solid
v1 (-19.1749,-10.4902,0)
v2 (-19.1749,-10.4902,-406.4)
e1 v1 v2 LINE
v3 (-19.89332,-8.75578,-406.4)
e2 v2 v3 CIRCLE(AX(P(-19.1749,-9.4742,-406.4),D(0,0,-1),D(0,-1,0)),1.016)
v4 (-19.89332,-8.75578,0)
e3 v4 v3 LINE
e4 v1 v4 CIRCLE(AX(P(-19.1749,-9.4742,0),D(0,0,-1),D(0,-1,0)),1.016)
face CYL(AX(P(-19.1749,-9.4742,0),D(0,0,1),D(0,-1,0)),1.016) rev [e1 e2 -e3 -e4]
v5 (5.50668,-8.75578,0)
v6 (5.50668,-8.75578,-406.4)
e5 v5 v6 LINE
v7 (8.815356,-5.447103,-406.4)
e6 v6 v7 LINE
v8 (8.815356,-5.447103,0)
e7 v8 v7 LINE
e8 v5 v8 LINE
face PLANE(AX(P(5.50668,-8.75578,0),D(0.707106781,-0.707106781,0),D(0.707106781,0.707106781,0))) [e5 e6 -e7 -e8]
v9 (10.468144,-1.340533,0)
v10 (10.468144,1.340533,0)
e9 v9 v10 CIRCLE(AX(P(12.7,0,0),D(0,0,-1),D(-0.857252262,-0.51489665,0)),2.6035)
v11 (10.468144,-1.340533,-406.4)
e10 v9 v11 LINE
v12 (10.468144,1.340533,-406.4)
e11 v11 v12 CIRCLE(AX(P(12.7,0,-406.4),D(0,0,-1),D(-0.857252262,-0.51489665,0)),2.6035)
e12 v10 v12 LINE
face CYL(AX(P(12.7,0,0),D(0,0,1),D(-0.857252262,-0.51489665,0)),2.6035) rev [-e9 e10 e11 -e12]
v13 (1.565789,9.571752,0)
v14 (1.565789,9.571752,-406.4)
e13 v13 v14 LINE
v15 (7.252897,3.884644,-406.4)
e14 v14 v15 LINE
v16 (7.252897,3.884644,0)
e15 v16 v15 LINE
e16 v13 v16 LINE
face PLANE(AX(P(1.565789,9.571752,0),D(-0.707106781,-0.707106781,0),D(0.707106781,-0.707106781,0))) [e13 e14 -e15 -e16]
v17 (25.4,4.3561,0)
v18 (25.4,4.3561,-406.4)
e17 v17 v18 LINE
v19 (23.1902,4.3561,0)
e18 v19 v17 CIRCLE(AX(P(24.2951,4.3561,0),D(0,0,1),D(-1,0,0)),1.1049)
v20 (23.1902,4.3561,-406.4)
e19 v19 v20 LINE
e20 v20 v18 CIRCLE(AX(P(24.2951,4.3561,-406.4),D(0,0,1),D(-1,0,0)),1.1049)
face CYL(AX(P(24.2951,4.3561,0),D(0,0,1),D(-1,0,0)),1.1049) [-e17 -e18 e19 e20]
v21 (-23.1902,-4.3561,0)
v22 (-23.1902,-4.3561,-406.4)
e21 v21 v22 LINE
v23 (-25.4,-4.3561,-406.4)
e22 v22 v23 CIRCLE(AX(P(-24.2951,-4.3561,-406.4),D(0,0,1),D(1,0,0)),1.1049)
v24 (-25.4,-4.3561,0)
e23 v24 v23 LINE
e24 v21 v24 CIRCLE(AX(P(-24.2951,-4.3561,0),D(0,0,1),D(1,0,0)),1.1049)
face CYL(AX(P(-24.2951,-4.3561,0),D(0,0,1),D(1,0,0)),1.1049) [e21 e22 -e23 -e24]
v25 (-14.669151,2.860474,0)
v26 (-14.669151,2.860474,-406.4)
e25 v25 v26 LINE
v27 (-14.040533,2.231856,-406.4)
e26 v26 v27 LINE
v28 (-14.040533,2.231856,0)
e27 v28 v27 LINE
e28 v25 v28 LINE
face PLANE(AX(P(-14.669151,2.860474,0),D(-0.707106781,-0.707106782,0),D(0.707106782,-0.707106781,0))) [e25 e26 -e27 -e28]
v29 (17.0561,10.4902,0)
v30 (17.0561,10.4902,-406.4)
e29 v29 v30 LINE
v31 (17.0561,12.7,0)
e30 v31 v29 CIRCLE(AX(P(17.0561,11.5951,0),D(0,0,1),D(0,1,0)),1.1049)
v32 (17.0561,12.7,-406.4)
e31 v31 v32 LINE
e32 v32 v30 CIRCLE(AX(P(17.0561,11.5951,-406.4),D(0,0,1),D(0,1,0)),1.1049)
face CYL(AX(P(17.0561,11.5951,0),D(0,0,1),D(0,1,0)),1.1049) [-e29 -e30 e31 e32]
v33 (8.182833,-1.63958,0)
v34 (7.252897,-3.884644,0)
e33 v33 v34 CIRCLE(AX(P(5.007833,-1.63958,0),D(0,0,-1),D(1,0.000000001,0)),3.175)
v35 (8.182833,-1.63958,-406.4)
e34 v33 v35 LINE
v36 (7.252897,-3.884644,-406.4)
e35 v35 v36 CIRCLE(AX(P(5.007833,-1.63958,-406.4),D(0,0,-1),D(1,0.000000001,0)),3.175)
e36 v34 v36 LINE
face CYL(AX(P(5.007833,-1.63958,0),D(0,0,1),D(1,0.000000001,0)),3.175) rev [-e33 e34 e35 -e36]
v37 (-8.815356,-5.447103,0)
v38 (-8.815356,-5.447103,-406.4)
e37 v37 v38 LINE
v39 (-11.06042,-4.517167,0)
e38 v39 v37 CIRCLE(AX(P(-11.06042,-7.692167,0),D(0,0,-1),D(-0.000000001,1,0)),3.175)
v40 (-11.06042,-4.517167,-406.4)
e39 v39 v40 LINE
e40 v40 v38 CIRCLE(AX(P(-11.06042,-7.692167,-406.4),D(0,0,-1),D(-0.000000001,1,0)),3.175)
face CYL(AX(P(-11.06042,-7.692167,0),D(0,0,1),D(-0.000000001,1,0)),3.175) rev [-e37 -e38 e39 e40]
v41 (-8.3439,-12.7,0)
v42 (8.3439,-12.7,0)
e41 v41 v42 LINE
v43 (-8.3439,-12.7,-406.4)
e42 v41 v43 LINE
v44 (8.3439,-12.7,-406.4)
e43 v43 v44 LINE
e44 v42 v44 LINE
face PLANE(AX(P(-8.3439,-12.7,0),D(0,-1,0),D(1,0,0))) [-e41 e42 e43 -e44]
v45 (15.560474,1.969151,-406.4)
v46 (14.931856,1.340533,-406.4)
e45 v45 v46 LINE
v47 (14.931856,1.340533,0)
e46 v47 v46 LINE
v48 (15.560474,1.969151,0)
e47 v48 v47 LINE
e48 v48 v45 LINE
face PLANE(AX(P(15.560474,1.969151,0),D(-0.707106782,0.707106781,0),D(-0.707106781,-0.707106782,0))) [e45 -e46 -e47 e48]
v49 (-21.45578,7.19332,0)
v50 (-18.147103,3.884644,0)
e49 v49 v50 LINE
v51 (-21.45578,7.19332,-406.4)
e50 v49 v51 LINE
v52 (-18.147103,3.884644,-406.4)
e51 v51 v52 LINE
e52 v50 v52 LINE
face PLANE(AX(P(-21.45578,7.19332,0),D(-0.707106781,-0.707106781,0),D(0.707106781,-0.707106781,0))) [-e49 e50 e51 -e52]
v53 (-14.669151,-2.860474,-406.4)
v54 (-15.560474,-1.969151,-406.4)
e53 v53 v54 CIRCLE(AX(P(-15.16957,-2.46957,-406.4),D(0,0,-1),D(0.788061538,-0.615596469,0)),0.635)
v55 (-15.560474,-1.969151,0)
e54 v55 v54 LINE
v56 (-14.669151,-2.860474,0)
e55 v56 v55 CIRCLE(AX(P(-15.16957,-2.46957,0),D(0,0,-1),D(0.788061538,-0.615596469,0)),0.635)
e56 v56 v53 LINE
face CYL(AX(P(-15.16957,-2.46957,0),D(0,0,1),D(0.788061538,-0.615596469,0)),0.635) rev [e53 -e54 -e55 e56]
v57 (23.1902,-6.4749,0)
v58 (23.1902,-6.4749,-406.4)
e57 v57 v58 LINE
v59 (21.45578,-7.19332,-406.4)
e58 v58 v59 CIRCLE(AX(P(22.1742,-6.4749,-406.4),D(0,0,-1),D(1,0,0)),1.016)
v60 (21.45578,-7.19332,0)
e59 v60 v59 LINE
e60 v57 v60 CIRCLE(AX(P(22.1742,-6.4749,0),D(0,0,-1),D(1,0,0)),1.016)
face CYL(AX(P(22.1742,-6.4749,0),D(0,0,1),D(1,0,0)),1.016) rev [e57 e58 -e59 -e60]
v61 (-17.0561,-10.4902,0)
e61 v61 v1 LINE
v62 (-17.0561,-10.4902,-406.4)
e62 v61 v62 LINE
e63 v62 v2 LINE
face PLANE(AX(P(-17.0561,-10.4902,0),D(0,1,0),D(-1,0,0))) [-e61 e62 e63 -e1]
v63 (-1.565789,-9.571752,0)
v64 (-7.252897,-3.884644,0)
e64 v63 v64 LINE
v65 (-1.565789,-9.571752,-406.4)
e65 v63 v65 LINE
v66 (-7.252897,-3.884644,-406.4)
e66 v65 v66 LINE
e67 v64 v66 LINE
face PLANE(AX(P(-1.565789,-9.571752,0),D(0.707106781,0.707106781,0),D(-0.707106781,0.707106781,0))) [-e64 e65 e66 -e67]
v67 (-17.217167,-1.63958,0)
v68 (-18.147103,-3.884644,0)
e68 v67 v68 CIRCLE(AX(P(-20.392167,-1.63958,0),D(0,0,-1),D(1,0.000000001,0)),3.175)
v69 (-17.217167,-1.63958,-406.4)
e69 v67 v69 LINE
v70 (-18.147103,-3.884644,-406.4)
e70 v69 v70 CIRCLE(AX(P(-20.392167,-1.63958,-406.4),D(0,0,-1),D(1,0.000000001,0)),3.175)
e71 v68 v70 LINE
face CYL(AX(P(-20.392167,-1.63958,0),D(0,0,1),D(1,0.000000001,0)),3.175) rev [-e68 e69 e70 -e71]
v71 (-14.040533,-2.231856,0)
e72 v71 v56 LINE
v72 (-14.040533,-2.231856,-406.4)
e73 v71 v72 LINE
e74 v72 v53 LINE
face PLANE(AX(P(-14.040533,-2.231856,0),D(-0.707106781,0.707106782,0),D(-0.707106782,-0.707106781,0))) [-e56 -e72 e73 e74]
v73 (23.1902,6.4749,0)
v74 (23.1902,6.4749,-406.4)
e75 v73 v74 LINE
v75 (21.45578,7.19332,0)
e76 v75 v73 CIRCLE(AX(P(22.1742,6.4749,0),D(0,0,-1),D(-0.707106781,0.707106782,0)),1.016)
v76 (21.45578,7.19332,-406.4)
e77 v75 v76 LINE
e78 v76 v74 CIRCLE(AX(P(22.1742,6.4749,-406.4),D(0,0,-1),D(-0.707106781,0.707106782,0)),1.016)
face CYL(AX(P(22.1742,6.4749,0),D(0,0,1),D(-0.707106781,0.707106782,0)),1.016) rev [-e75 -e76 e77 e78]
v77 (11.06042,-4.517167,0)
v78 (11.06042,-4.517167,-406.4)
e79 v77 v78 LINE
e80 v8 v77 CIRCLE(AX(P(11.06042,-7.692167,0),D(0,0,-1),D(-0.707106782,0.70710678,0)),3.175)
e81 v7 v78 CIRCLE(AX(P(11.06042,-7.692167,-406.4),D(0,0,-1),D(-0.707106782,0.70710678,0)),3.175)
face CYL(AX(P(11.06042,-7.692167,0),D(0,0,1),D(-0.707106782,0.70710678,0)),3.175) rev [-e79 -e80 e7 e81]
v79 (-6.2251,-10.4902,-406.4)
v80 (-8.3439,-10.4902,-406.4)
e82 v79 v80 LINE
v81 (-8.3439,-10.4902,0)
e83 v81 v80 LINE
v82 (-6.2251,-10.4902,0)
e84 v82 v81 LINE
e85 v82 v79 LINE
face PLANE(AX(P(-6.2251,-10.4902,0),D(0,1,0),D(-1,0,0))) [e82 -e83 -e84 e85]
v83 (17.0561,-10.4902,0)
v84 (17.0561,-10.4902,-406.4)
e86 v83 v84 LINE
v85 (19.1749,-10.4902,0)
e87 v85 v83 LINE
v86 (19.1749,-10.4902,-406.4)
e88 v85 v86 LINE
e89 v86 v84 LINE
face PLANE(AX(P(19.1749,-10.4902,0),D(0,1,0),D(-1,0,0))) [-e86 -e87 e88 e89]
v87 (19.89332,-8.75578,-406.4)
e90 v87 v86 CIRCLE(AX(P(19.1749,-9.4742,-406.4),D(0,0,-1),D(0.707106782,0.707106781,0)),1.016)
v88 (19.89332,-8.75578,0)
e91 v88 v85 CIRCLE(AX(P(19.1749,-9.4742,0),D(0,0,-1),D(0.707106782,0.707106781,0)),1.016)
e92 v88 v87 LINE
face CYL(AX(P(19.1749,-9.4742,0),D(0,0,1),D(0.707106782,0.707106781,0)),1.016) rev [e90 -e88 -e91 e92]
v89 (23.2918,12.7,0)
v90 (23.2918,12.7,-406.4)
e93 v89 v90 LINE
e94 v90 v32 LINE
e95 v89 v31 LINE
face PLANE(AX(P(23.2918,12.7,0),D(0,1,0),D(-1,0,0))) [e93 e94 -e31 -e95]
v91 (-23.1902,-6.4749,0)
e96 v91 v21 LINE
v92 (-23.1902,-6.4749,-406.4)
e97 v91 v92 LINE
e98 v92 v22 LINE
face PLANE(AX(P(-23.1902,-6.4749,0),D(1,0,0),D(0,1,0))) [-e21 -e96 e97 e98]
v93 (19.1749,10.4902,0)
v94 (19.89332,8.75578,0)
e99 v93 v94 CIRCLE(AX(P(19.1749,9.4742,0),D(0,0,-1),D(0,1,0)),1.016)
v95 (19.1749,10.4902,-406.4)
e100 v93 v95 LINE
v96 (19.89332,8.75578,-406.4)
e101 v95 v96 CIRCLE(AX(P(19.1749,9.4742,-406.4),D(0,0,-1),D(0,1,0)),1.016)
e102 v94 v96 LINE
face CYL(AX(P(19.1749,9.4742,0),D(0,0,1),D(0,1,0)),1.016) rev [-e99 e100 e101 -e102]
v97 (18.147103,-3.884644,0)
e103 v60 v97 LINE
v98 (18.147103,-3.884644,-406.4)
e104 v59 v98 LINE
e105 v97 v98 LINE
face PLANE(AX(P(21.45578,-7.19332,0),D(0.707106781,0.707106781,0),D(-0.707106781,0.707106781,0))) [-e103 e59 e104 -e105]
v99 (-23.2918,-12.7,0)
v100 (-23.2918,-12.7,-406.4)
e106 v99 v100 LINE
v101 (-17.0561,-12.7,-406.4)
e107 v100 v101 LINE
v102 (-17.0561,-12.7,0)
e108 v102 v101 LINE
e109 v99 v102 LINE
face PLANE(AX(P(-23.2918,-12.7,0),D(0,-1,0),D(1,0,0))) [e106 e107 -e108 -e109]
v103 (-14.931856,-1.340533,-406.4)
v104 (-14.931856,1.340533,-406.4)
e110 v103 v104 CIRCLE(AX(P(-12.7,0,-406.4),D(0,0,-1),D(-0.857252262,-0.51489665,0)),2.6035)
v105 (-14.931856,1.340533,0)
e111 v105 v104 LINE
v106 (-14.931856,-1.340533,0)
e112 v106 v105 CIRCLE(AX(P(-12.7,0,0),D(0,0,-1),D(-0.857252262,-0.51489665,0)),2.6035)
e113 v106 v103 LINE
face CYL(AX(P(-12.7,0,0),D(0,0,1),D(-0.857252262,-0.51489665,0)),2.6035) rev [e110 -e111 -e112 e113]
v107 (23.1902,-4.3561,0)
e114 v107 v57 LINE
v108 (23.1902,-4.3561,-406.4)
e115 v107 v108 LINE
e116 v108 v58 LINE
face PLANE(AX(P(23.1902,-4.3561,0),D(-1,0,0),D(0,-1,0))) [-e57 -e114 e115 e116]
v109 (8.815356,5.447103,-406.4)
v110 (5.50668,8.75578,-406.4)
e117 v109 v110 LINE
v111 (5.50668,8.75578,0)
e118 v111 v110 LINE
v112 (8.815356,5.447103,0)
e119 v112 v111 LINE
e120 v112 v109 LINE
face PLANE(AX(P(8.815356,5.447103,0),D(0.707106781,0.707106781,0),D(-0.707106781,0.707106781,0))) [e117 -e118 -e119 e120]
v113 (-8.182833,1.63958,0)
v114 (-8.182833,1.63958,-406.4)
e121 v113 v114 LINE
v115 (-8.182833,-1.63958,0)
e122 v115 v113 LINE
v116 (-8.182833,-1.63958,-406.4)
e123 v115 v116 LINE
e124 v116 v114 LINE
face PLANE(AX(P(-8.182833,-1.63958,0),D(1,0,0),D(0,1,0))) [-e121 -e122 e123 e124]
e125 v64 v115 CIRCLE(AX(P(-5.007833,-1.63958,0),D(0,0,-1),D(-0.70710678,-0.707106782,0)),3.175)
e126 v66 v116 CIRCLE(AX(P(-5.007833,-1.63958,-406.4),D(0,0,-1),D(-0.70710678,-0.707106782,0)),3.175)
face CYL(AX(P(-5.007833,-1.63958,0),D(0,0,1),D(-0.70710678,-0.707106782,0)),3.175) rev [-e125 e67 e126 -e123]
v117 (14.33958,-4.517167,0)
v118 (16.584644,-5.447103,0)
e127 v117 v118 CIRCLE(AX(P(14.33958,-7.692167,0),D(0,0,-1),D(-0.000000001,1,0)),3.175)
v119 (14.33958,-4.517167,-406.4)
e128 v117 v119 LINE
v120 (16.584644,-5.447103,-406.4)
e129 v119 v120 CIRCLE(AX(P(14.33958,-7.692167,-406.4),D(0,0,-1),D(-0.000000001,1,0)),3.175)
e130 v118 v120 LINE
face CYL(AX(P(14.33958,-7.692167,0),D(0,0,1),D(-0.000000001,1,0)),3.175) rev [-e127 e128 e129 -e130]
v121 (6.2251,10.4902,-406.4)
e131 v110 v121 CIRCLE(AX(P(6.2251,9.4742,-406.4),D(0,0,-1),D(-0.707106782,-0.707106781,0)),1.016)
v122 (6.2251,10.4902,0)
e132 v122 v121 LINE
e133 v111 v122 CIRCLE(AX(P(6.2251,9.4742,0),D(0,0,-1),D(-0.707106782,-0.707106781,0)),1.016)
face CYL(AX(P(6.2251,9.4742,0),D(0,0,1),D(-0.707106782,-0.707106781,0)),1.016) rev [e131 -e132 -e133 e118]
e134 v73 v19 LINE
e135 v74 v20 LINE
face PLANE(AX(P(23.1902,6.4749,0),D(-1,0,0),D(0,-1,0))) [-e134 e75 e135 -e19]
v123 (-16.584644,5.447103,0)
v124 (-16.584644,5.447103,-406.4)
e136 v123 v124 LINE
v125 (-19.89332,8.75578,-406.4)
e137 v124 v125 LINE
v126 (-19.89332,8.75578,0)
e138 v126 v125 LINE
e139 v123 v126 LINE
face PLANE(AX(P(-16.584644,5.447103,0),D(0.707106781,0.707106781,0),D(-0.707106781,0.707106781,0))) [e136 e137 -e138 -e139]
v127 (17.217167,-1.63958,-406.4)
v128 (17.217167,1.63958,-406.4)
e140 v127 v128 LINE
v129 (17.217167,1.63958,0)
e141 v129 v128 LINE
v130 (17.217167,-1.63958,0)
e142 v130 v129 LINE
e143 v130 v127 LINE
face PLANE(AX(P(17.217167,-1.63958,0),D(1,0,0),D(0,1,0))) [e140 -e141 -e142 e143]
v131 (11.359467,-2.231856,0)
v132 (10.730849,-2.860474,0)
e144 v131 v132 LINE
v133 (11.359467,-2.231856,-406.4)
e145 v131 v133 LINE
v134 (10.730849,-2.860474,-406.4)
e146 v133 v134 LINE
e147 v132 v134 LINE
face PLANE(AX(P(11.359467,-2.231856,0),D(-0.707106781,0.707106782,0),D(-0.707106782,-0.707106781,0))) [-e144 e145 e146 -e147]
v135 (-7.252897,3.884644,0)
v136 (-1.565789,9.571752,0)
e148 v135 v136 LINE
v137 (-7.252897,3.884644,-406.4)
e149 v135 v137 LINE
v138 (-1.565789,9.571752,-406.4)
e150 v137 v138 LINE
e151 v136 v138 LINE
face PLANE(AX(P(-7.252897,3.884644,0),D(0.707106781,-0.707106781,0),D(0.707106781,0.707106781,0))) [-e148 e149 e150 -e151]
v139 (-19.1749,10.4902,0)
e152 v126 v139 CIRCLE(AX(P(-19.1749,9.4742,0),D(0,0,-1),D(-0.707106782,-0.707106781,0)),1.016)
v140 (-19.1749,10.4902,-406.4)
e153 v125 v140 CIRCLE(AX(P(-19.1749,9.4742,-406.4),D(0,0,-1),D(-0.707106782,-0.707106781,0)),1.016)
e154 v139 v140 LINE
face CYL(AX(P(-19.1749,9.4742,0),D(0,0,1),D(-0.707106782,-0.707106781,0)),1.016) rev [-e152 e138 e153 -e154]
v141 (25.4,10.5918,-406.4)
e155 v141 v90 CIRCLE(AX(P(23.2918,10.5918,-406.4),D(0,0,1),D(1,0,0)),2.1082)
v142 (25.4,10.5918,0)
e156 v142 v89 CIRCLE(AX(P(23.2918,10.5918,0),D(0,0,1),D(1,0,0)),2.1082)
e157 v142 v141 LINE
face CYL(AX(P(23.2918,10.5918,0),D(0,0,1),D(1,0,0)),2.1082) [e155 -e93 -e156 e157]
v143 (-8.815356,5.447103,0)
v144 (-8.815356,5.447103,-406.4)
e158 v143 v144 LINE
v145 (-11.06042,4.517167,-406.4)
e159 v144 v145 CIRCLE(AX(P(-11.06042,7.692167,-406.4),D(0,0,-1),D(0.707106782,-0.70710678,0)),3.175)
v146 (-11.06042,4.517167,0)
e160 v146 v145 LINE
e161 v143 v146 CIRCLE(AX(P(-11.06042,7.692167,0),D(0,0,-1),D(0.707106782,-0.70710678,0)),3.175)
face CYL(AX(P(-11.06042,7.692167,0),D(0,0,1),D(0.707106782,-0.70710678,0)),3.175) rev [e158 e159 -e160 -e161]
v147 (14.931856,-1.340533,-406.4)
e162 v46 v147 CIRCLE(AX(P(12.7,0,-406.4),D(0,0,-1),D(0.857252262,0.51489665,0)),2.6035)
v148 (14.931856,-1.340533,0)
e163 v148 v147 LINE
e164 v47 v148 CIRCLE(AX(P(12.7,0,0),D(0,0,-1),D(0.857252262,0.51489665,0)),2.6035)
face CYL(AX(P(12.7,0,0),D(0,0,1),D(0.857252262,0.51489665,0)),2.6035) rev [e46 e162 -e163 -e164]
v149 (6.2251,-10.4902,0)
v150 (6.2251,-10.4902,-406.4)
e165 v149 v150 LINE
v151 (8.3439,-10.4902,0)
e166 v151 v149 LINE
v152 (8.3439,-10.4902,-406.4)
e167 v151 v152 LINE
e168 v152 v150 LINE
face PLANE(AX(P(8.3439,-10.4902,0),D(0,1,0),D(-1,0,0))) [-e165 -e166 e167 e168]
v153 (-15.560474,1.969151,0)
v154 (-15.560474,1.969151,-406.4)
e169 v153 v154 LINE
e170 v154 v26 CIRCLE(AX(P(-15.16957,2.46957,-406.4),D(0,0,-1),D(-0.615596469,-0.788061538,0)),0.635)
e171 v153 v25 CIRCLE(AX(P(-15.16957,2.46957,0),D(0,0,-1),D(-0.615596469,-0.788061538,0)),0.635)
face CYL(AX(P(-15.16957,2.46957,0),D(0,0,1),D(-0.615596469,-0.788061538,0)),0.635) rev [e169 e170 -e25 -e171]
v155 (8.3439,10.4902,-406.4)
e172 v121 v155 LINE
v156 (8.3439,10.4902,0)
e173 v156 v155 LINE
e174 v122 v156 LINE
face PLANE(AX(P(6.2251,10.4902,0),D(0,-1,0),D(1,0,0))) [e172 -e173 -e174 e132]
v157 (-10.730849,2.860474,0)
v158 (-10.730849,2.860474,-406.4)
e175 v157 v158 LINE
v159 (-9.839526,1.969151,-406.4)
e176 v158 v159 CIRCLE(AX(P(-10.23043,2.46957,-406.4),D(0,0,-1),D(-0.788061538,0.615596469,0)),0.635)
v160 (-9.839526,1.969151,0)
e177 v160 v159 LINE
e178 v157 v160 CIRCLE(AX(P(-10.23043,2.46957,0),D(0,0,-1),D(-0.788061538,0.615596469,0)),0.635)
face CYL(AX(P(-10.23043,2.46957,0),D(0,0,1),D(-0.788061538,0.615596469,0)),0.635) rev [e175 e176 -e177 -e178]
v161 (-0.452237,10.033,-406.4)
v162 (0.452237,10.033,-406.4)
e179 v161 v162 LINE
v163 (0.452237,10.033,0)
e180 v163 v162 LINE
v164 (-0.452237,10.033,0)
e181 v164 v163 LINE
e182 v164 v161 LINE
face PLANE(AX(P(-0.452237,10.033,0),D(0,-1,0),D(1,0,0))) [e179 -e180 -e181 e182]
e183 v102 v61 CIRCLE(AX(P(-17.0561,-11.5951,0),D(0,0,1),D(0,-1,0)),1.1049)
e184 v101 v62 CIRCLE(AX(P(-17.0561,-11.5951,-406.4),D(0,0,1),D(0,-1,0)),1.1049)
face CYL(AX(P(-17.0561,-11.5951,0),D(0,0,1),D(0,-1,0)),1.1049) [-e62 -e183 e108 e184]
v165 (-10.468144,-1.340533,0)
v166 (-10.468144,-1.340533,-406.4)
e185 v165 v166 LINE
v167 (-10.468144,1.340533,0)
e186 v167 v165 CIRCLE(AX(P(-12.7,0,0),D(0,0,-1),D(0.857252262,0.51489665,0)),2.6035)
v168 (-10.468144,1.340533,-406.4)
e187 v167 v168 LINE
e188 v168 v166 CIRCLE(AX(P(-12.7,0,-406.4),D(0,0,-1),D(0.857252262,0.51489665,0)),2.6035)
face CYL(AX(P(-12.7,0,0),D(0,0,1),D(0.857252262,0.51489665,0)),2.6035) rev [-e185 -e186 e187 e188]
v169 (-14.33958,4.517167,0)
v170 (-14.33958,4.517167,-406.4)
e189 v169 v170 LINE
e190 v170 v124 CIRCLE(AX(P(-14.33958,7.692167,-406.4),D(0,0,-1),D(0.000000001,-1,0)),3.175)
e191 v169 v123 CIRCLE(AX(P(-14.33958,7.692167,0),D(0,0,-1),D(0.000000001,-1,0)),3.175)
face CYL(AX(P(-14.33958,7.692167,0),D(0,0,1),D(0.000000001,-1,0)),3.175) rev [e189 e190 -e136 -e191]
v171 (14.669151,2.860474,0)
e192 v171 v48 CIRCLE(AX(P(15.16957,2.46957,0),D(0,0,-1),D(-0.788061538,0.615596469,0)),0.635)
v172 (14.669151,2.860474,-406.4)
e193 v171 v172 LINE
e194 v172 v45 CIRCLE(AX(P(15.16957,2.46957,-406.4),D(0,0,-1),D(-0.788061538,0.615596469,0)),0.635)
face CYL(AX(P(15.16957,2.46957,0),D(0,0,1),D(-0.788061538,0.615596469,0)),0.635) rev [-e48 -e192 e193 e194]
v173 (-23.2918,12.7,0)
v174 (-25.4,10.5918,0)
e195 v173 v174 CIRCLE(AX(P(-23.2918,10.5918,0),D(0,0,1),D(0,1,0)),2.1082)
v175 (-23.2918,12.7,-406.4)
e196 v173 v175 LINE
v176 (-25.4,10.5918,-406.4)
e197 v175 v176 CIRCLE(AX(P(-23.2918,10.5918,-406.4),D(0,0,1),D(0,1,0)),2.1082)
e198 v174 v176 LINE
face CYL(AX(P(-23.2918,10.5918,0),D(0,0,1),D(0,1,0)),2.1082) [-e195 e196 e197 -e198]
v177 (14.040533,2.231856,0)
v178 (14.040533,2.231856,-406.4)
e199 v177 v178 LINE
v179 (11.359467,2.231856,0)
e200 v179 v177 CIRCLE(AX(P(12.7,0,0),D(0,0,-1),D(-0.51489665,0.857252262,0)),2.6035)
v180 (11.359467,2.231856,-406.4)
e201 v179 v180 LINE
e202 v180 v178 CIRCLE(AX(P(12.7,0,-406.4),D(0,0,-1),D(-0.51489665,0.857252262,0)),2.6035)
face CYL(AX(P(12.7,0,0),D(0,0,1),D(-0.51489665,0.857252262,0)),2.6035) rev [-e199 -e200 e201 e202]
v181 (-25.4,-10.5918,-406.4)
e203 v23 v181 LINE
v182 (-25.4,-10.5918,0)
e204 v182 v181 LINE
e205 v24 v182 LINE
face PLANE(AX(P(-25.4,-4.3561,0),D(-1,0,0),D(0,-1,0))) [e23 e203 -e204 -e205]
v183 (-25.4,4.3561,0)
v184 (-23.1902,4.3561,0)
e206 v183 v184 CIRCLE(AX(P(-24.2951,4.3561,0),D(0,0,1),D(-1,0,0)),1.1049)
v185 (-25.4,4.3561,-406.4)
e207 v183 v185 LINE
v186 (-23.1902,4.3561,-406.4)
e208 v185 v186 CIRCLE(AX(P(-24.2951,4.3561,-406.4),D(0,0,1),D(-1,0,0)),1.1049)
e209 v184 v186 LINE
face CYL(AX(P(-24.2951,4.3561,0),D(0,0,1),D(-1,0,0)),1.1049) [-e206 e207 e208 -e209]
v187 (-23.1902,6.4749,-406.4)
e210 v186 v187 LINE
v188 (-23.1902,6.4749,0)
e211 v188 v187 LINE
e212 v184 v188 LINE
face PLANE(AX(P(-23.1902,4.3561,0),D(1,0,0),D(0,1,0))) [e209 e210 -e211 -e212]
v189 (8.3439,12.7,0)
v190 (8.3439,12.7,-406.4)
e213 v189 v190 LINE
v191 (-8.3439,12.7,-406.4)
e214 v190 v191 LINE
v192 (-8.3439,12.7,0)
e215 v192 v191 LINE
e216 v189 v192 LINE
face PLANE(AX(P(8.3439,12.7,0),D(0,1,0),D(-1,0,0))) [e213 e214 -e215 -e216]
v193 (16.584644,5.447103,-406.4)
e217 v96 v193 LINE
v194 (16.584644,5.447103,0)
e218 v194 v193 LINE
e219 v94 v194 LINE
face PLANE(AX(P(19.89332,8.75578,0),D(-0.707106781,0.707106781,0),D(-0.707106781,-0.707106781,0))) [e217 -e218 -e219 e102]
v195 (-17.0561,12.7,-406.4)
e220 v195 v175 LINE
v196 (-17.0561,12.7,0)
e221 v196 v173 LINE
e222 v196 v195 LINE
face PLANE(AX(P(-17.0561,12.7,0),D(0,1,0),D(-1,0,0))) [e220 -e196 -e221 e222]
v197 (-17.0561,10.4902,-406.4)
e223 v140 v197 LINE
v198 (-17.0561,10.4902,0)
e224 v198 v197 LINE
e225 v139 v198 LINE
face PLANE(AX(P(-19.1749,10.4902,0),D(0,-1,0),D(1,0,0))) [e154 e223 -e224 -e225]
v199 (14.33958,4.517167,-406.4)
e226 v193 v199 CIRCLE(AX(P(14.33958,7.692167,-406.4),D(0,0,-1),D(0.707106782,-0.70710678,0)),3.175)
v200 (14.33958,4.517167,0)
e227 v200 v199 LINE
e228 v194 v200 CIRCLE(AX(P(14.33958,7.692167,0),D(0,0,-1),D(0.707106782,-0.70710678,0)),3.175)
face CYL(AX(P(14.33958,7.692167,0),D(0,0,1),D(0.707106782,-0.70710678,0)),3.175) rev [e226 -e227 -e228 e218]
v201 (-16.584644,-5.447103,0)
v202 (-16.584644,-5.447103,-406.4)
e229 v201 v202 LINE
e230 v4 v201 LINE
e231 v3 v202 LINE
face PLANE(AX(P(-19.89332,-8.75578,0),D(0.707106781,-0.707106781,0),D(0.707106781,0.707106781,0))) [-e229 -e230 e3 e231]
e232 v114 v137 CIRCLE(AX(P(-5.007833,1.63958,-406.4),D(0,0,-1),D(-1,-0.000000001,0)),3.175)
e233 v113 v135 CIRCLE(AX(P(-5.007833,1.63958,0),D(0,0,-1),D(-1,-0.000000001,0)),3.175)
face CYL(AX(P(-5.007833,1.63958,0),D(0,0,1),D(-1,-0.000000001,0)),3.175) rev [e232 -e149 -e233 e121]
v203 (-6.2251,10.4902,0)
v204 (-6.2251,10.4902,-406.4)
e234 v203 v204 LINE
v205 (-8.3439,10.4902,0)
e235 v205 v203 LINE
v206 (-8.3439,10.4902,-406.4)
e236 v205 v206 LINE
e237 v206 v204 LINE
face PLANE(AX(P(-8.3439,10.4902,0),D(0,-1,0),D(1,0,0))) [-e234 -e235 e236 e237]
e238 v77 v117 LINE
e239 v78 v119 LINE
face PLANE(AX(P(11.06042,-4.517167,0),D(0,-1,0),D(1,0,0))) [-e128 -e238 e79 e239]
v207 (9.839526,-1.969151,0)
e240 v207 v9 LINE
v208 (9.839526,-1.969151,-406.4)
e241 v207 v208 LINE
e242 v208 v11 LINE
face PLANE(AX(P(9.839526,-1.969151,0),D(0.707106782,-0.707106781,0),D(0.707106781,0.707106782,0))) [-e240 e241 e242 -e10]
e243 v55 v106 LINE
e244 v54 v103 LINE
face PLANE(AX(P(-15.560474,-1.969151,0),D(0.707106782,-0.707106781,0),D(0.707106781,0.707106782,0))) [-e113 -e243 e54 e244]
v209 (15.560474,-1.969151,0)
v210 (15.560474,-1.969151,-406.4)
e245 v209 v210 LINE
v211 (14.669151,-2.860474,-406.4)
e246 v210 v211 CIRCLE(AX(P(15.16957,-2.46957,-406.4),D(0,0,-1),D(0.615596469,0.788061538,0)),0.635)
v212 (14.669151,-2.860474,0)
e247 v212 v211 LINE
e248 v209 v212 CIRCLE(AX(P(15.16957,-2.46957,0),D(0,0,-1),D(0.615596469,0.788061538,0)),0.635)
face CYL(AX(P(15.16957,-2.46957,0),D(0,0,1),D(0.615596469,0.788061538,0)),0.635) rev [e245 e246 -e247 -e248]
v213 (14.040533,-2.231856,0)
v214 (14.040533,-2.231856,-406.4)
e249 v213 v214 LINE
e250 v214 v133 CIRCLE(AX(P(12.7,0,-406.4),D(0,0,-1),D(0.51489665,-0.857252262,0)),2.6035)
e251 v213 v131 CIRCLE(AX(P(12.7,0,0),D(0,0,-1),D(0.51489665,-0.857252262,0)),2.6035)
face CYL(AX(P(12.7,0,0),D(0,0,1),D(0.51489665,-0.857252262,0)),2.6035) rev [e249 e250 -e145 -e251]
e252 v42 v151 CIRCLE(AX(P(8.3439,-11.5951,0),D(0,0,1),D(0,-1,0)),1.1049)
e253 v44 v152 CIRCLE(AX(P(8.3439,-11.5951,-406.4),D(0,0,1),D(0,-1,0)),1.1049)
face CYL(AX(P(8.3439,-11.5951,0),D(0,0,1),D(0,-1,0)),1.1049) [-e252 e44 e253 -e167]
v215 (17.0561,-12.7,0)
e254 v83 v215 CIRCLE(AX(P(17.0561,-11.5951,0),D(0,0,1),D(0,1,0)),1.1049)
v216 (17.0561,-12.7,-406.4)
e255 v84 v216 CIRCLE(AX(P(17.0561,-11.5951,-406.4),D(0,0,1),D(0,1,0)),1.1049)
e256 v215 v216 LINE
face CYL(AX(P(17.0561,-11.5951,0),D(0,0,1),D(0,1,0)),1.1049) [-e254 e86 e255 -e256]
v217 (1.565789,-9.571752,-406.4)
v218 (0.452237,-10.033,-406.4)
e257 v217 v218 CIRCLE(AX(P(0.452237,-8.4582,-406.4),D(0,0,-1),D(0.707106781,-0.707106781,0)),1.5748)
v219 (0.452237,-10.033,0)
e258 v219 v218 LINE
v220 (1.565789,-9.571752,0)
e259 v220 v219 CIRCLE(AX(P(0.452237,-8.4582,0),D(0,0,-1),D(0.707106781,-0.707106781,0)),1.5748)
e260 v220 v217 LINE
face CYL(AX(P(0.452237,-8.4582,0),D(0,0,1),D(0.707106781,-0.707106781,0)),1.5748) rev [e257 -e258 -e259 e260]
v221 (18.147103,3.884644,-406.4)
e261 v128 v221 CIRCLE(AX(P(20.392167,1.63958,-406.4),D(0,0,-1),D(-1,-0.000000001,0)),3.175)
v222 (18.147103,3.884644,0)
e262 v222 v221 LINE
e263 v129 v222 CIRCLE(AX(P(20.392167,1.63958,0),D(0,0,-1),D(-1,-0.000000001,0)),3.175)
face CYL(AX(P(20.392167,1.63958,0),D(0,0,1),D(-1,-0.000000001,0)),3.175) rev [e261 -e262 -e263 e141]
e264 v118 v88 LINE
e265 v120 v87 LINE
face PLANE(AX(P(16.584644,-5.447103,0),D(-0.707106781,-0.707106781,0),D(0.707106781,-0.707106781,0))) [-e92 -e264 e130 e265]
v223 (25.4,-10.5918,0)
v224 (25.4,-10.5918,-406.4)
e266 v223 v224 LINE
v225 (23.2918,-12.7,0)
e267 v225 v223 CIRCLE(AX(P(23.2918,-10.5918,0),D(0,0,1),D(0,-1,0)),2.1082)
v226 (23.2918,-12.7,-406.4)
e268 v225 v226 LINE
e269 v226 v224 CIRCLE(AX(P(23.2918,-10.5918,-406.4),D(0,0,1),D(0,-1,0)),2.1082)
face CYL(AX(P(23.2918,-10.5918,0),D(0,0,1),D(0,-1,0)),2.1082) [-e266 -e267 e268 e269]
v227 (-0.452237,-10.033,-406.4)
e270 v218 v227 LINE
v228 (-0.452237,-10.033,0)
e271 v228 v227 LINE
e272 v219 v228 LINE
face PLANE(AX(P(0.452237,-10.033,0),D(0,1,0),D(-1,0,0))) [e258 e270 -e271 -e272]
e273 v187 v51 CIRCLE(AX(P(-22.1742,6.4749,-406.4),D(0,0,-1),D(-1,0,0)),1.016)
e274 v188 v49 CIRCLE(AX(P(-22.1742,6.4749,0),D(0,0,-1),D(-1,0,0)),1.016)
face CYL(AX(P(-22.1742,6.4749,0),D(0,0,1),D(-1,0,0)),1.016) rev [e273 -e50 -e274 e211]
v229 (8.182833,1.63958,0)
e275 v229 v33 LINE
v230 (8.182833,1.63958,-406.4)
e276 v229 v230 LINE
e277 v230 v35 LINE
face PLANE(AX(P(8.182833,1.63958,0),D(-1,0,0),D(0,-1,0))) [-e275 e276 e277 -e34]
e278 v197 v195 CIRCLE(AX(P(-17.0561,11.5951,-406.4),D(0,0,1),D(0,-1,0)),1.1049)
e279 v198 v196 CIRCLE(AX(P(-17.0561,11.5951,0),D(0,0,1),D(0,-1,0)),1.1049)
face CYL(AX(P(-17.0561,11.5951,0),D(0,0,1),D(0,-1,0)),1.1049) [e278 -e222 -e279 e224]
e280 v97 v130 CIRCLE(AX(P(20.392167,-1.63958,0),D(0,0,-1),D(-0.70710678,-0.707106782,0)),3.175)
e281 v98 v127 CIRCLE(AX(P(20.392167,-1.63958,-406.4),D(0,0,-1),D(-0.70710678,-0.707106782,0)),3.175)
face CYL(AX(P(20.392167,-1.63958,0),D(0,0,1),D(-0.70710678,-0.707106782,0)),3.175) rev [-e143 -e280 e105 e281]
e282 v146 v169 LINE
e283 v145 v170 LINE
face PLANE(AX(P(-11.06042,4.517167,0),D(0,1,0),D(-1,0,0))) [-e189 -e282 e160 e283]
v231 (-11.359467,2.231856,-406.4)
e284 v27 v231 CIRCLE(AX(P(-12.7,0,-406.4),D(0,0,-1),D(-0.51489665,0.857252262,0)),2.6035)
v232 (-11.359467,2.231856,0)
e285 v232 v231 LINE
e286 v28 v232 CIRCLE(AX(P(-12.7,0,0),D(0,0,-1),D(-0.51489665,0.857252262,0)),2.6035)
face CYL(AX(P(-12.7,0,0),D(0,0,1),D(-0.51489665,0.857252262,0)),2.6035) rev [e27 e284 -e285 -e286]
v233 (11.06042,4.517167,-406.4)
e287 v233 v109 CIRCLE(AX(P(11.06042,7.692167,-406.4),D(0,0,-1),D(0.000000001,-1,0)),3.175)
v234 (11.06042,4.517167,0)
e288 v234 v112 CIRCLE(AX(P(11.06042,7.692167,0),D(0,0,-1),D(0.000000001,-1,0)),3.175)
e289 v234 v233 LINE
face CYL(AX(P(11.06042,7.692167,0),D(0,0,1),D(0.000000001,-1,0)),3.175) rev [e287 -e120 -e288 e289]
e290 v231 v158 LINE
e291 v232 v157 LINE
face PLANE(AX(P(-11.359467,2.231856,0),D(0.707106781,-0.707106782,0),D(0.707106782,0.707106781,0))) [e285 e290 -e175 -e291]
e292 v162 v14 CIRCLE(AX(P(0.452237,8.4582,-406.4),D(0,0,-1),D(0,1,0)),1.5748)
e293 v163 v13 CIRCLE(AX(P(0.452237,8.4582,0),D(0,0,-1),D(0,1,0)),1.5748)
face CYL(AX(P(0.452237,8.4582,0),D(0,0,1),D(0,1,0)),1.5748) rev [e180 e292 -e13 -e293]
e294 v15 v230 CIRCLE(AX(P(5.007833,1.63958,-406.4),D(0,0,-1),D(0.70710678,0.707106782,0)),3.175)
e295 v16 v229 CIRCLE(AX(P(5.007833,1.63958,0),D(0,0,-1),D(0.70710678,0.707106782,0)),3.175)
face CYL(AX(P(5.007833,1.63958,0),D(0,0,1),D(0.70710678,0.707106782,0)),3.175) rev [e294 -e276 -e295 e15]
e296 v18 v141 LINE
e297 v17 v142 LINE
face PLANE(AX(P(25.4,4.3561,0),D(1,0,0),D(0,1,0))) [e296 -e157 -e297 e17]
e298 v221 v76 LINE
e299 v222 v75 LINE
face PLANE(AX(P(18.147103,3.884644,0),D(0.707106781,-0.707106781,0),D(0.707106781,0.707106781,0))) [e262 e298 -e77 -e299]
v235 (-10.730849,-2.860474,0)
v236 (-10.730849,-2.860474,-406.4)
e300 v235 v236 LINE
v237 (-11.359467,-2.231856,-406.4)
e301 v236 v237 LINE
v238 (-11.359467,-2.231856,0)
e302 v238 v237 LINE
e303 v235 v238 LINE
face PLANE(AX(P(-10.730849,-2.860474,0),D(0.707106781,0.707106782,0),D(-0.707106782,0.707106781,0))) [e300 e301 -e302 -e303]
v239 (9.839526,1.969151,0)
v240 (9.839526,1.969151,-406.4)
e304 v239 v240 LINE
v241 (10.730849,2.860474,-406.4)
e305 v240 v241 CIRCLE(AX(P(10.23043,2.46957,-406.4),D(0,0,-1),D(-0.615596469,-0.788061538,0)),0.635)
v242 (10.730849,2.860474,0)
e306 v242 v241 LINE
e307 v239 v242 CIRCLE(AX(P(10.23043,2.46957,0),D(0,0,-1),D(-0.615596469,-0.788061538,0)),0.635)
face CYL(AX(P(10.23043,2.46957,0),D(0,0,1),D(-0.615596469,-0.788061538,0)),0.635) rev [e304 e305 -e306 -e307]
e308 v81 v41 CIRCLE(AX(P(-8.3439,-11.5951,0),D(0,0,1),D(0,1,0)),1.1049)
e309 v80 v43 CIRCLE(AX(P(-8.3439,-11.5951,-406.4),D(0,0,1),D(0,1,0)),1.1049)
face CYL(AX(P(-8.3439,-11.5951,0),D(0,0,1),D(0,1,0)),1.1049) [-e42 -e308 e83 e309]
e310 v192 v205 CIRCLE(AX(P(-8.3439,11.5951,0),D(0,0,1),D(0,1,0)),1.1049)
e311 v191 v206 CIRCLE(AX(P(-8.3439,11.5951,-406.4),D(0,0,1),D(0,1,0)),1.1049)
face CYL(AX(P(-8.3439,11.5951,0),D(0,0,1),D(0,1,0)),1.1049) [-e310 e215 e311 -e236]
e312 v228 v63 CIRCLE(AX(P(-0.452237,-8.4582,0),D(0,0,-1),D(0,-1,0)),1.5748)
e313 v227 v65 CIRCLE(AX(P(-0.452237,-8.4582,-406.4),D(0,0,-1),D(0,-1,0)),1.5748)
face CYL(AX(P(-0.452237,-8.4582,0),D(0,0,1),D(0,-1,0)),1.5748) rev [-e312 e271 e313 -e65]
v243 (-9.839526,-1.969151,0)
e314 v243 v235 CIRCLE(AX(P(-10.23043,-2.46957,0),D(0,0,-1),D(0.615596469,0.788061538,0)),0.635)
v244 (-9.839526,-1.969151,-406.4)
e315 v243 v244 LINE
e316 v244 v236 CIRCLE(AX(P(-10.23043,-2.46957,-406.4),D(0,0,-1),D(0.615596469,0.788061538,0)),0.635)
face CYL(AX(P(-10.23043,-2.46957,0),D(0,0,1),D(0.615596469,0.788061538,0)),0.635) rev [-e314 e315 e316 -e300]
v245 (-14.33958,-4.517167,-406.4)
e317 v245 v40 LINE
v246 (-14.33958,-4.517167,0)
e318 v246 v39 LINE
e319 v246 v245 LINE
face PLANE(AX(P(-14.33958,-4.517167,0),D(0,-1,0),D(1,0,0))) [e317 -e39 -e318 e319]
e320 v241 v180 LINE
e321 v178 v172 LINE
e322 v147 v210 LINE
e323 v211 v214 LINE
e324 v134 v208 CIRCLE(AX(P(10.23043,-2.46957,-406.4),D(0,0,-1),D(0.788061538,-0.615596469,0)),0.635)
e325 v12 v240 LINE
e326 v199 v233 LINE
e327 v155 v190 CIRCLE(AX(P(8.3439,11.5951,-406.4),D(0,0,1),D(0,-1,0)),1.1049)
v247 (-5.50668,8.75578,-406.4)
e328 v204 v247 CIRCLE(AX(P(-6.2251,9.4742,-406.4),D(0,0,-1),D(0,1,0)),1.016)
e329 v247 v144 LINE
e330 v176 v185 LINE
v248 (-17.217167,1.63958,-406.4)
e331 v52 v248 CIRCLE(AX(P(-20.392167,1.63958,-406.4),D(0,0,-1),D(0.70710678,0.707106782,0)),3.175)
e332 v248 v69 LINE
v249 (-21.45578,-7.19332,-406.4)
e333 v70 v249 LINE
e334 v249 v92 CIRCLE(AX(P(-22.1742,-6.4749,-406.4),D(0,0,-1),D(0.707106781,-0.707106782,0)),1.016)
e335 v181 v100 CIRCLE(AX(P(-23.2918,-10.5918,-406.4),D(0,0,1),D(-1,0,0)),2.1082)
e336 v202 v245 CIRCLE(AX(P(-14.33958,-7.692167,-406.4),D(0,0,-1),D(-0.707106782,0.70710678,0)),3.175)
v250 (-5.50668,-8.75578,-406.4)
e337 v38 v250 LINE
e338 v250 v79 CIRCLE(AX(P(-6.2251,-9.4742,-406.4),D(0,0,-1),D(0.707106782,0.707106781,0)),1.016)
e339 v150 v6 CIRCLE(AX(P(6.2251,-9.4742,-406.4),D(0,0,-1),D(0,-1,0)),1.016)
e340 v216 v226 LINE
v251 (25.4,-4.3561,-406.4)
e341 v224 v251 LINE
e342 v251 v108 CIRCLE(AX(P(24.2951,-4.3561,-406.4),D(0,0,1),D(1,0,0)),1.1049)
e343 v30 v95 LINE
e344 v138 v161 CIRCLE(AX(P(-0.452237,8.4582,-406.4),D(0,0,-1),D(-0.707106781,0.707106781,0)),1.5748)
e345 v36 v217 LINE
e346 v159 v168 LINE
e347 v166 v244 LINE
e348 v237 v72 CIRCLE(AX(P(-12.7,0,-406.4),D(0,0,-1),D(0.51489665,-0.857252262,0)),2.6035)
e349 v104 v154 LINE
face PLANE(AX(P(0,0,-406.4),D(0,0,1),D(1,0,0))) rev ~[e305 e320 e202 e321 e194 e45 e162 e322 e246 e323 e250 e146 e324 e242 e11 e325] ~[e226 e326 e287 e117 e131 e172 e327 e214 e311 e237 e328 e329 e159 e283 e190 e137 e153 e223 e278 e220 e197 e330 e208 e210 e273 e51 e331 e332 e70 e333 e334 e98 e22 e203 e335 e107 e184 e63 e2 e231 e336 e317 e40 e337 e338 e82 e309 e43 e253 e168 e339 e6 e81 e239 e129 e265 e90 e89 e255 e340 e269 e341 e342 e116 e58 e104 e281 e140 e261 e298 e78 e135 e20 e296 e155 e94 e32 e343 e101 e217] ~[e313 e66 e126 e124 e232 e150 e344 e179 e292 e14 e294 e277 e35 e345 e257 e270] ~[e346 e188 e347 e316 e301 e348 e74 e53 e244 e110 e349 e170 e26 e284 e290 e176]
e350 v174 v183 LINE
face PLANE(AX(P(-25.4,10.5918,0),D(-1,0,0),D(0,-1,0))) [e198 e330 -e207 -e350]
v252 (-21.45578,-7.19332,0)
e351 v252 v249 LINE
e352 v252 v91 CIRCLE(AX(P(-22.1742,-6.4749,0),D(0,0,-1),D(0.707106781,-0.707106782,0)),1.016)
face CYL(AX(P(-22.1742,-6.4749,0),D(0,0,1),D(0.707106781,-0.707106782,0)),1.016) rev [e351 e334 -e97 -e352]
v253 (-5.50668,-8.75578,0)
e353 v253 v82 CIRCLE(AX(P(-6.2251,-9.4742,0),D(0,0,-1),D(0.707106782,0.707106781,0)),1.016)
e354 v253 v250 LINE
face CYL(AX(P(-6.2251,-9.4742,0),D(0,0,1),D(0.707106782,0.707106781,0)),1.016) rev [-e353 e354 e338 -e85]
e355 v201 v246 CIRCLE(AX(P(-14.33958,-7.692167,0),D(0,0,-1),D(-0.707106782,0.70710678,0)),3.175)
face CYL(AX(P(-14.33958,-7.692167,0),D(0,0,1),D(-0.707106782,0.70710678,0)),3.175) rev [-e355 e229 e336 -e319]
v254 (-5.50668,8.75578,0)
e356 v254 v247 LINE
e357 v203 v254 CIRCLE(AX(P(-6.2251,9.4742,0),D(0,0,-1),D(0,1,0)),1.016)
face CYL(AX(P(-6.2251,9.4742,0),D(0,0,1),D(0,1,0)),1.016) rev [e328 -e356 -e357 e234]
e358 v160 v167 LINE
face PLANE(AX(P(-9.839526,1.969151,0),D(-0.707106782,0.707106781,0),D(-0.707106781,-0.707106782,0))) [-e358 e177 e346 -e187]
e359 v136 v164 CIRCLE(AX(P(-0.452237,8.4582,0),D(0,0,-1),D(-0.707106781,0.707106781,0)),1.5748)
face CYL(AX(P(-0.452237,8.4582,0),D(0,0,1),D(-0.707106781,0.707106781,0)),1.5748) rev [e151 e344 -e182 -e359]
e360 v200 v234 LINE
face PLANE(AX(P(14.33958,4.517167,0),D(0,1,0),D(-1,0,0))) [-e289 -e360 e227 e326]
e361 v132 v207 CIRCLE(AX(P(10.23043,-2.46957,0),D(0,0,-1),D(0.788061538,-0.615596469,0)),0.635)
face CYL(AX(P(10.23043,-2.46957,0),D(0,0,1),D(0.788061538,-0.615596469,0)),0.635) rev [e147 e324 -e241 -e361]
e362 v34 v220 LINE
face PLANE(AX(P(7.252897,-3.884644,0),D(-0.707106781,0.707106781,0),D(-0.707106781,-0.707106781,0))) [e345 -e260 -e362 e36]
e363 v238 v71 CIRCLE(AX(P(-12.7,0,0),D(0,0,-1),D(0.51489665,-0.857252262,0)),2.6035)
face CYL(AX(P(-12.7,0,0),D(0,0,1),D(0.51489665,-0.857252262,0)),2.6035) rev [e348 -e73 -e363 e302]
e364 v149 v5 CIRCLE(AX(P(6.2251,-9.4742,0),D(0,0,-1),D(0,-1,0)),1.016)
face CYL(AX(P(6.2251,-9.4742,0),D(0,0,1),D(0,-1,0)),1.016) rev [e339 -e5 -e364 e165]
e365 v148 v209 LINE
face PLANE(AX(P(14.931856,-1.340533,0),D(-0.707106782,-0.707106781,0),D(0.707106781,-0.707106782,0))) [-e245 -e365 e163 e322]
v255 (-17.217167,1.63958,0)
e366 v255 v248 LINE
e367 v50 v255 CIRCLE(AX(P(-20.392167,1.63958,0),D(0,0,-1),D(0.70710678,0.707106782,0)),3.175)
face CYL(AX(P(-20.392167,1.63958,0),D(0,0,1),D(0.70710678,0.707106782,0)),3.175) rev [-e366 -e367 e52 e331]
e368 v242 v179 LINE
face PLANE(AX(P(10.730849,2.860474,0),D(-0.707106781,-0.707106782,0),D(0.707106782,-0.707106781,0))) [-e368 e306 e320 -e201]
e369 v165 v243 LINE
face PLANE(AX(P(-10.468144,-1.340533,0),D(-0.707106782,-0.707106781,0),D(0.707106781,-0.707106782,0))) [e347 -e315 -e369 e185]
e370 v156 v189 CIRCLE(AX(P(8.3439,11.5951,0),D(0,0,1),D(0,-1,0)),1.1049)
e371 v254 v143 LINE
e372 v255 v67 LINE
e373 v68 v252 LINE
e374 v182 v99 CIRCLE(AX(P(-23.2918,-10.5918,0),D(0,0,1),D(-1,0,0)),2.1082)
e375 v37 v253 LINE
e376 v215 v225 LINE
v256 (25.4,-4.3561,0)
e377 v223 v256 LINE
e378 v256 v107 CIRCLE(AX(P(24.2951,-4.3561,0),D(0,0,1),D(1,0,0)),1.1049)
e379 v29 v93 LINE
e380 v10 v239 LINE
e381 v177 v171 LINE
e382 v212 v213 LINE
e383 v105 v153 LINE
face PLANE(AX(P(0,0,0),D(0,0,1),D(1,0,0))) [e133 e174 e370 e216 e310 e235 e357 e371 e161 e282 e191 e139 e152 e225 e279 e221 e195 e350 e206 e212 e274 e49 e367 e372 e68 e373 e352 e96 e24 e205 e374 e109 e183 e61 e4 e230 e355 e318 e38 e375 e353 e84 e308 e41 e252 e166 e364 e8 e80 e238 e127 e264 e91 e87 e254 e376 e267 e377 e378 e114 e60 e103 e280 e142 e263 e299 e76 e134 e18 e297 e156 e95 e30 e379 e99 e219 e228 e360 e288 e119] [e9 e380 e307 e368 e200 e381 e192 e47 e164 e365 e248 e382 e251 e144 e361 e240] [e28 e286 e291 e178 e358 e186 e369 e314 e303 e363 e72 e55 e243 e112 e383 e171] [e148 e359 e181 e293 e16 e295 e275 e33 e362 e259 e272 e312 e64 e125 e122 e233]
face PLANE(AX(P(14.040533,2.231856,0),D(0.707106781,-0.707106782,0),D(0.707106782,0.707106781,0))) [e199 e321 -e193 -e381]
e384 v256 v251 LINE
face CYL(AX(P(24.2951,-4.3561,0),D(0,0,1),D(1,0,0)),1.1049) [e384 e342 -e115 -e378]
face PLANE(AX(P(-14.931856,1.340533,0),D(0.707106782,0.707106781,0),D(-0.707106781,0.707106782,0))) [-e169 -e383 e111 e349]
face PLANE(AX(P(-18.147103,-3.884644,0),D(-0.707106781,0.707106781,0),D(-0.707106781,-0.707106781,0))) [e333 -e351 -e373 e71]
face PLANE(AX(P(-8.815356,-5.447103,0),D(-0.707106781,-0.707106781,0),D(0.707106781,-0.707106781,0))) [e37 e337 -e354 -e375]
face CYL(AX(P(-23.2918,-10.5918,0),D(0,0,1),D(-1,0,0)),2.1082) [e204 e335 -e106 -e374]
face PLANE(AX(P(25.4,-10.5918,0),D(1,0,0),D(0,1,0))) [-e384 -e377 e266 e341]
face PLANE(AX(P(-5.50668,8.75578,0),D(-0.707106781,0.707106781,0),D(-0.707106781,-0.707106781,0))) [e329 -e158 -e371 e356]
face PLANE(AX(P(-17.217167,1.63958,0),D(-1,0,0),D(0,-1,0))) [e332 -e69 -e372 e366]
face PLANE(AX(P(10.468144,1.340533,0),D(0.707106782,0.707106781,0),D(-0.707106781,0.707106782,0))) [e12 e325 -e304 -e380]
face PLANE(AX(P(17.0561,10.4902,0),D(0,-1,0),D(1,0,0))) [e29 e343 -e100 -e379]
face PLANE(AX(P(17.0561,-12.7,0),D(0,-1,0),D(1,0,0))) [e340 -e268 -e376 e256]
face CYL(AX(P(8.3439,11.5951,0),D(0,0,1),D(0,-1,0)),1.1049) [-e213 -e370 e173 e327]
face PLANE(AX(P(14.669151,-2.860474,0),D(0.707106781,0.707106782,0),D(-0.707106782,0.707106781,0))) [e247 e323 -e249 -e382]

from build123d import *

# Parameters (mm, degrees)
EXTRUDE1_DEPTH = 406.4


with BuildPart() as part:
    # Sketch1 → Extrude1 (new body)
    with BuildSketch(Plane.XY):
        with BuildLine():
            Line((8.3439, -10.4902), (6.225100202, -10.4902))
            ThreePointArc((6.225100202, -10.4902), (5.286438597, -9.863006367), (5.506679712, -8.75577951))
            Line((5.506679712, -8.75577951), (8.81535611, -5.447103113))
            ThreePointArc((8.81535611, -5.447103113), (9.845400242, -4.758849627), (11.06042014, -4.517167143))
            Line((11.06042014, -4.517167143), (14.33957986, -4.517167143))
            ThreePointArc((14.33957986, -4.517167143), (15.554599758, -4.758849627), (16.58464389, -5.447103113))
            Line((16.58464389, -5.447103113), (19.893320288, -8.75577951))
            ThreePointArc((19.893320288, -8.75577951), (20.113561403, -9.863006367), (19.174899798, -10.4902))
            Line((19.174899798, -10.4902), (17.0561, -10.4902))
            ThreePointArc((17.0561, -10.4902), (15.9512, -11.5951), (17.0561, -12.7))
            Line((17.0561, -12.7), (23.2918, -12.7))
            ThreePointArc((23.2918, -12.7), (24.782522516, -12.082522516), (25.4, -10.5918))
            Line((25.4, -10.5918), (25.4, -4.3561))
            ThreePointArc((25.4, -4.3561), (24.2951, -3.2512), (23.1902, -4.3561))
            Line((23.1902, -4.3561), (23.1902, -6.474899798))
            ThreePointArc((23.1902, -6.474899798), (22.563006367, -7.413561403), (21.45577951, -7.193320288))
            Line((21.45577951, -7.193320288), (18.147103113, -3.88464389))
            ThreePointArc((18.147103113, -3.88464389), (17.458849627, -2.854599758), (17.217167143, -1.63957986))
            Line((17.217167143, -1.63957986), (17.217167143, 1.63957986))
            ThreePointArc((17.217167143, 1.63957986), (17.458849627, 2.854599758), (18.147103113, 3.88464389))
            Line((18.147103113, 3.88464389), (21.45577951, 7.193320288))
            ThreePointArc((21.45577951, 7.193320288), (22.563006367, 7.413561403), (23.1902, 6.474899798))
            Line((23.1902, 6.474899798), (23.1902, 4.3561))
            ThreePointArc((23.1902, 4.3561), (24.2951, 3.2512), (25.4, 4.3561))
            Line((25.4, 4.3561), (25.4, 10.5918))
            ThreePointArc((25.4, 10.5918), (24.782522516, 12.082522516), (23.2918, 12.7))
            Line((23.2918, 12.7), (17.0561, 12.7))
            ThreePointArc((17.0561, 12.7), (15.9512, 11.5951), (17.0561, 10.4902))
            Line((17.0561, 10.4902), (19.174899798, 10.4902))
            ThreePointArc((19.174899798, 10.4902), (20.113561403, 9.863006367), (19.893320288, 8.75577951))
            Line((19.893320288, 8.75577951), (16.58464389, 5.447103113))
            ThreePointArc((16.58464389, 5.447103113), (15.554599758, 4.758849627), (14.33957986, 4.517167143))
            Line((14.33957986, 4.517167143), (11.06042014, 4.517167143))
            ThreePointArc((11.06042014, 4.517167143), (9.845400242, 4.758849627), (8.81535611, 5.447103113))
            Line((8.81535611, 5.447103113), (5.506679712, 8.75577951))
            ThreePointArc((5.506679712, 8.75577951), (5.286438597, 9.863006367), (6.225100202, 10.4902))
            Line((6.225100202, 10.4902), (8.3439, 10.4902))
            ThreePointArc((8.3439, 10.4902), (9.4488, 11.5951), (8.3439, 12.7))
            Line((8.3439, 12.7), (-8.3439, 12.7))
            ThreePointArc((-8.3439, 12.7), (-9.4488, 11.5951), (-8.3439, 10.4902))
            Line((-8.3439, 10.4902), (-6.225100202, 10.4902))
            ThreePointArc((-6.225100202, 10.4902), (-5.286438597, 9.863006367), (-5.506679712, 8.75577951))
            Line((-5.506679712, 8.75577951), (-8.81535611, 5.447103113))
            ThreePointArc((-8.81535611, 5.447103113), (-9.845400242, 4.758849627), (-11.06042014, 4.517167143))
            Line((-11.06042014, 4.517167143), (-14.33957986, 4.517167143))
            ThreePointArc((-14.33957986, 4.517167143), (-15.554599758, 4.758849627), (-16.58464389, 5.447103113))
            Line((-16.58464389, 5.447103113), (-19.893320288, 8.75577951))
            ThreePointArc((-19.893320288, 8.75577951), (-20.113561403, 9.863006367), (-19.174899798, 10.4902))
            Line((-19.174899798, 10.4902), (-17.0561, 10.4902))
            ThreePointArc((-17.0561, 10.4902), (-15.9512, 11.5951), (-17.0561, 12.7))
            Line((-17.0561, 12.7), (-23.2918, 12.7))
            ThreePointArc((-23.2918, 12.7), (-24.782522516, 12.082522516), (-25.4, 10.5918))
            Line((-25.4, 10.5918), (-25.4, 4.3561))
            ThreePointArc((-25.4, 4.3561), (-24.2951, 3.2512), (-23.1902, 4.3561))
            Line((-23.1902, 4.3561), (-23.1902, 6.474899798))
            ThreePointArc((-23.1902, 6.474899798), (-22.563006367, 7.413561403), (-21.45577951, 7.193320288))
            Line((-21.45577951, 7.193320288), (-18.147103113, 3.88464389))
            ThreePointArc((-18.147103113, 3.88464389), (-17.458849627, 2.854599758), (-17.217167143, 1.63957986))
            Line((-17.217167143, 1.63957986), (-17.217167143, -1.63957986))
            ThreePointArc((-17.217167143, -1.63957986), (-17.458849627, -2.854599758), (-18.147103113, -3.88464389))
            Line((-18.147103113, -3.88464389), (-21.45577951, -7.193320288))
            ThreePointArc((-21.45577951, -7.193320288), (-22.563006367, -7.413561403), (-23.1902, -6.474899798))
            Line((-23.1902, -6.474899798), (-23.1902, -4.3561))
            ThreePointArc((-23.1902, -4.3561), (-24.2951, -3.2512), (-25.4, -4.3561))
            Line((-25.4, -4.3561), (-25.4, -10.5918))
            ThreePointArc((-25.4, -10.5918), (-24.782522516, -12.082522516), (-23.2918, -12.7))
            Line((-23.2918, -12.7), (-17.0561, -12.7))
            ThreePointArc((-17.0561, -12.7), (-15.9512, -11.5951), (-17.0561, -10.4902))
            Line((-17.0561, -10.4902), (-19.174899798, -10.4902))
            ThreePointArc((-19.174899798, -10.4902), (-20.113561403, -9.863006367), (-19.893320288, -8.75577951))
            Line((-19.893320288, -8.75577951), (-16.58464389, -5.447103113))
            ThreePointArc((-16.58464389, -5.447103113), (-15.554599758, -4.758849627), (-14.33957986, -4.517167143))
            Line((-14.33957986, -4.517167143), (-11.06042014, -4.517167143))
            ThreePointArc((-11.06042014, -4.517167143), (-9.845400242, -4.758849627), (-8.81535611, -5.447103113))
            Line((-8.81535611, -5.447103113), (-5.506679712, -8.75577951))
            ThreePointArc((-5.506679712, -8.75577951), (-5.286438597, -9.863006367), (-6.225100202, -10.4902))
            Line((-6.225100202, -10.4902), (-8.3439, -10.4902))
            ThreePointArc((-8.3439, -10.4902), (-9.4488, -11.5951), (-8.3439, -12.7))
            Line((-8.3439, -12.7), (8.3439, -12.7))
            ThreePointArc((8.3439, -12.7), (9.4488, -11.5951), (8.3439, -10.4902))
        make_face()
        with BuildLine():
            Line((-14.040533428, -2.231856263), (-14.669151357, -2.860474191))
            ThreePointArc((-14.669151357, -2.860474191), (-15.618583239, -2.918583239), (-15.560474191, -1.969151357))
            Line((-15.560474191, -1.969151357), (-14.931856263, -1.340533428))
            ThreePointArc((-14.931856263, -1.340533428), (-15.3035, 0), (-14.931856263, 1.340533428))
            Line((-14.931856263, 1.340533428), (-15.560474191, 1.969151357))
            ThreePointArc((-15.560474191, 1.969151357), (-15.618583239, 2.918583239), (-14.669151357, 2.860474191))
            Line((-14.669151357, 2.860474191), (-14.040533428, 2.231856263))
            ThreePointArc((-14.040533428, 2.231856263), (-12.7, 2.6035), (-11.359466572, 2.231856263))
            Line((-11.359466572, 2.231856263), (-10.730848643, 2.860474191))
            ThreePointArc((-10.730848643, 2.860474191), (-9.781416761, 2.918583239), (-9.839525809, 1.969151357))
            Line((-9.839525809, 1.969151357), (-10.468143737, 1.340533428))
            ThreePointArc((-10.468143737, 1.340533428), (-10.0965, 0), (-10.468143737, -1.340533428))
            Line((-10.468143737, -1.340533428), (-9.839525809, -1.969151357))
            ThreePointArc((-9.839525809, -1.969151357), (-9.781416761, -2.918583239), (-10.730848643, -2.860474191))
            Line((-10.730848643, -2.860474191), (-11.359466572, -2.231856263))
            ThreePointArc((-11.359466572, -2.231856263), (-12.7, -2.6035), (-14.040533428, -2.231856263))
        make_face(mode=Mode.SUBTRACT)
        with BuildLine():
            Line((14.669151357, -2.860474191), (14.040533428, -2.231856263))
            ThreePointArc((14.040533428, -2.231856263), (12.7, -2.6035), (11.359466572, -2.231856263))
            Line((11.359466572, -2.231856263), (10.730848643, -2.860474191))
            ThreePointArc((10.730848643, -2.860474191), (9.781416761, -2.918583239), (9.839525809, -1.969151357))
            Line((9.839525809, -1.969151357), (10.468143737, -1.340533428))
            ThreePointArc((10.468143737, -1.340533428), (10.0965, 0), (10.468143737, 1.340533428))
            Line((10.468143737, 1.340533428), (9.839525809, 1.969151357))
            ThreePointArc((9.839525809, 1.969151357), (9.781416761, 2.918583239), (10.730848643, 2.860474191))
            Line((10.730848643, 2.860474191), (11.359466572, 2.231856263))
            ThreePointArc((11.359466572, 2.231856263), (12.7, 2.6035), (14.040533428, 2.231856263))
            Line((14.040533428, 2.231856263), (14.669151357, 2.860474191))
            ThreePointArc((14.669151357, 2.860474191), (15.618583239, 2.918583239), (15.560474191, 1.969151357))
            Line((15.560474191, 1.969151357), (14.931856263, 1.340533428))
            ThreePointArc((14.931856263, 1.340533428), (15.3035, 0), (14.931856263, -1.340533428))
            Line((14.931856263, -1.340533428), (15.560474191, -1.969151357))
            ThreePointArc((15.560474191, -1.969151357), (15.618583239, -2.918583239), (14.669151357, -2.860474191))
        make_face(mode=Mode.SUBTRACT)
        with BuildLine():
            Line((-0.45223726, 10.033), (0.45223726, 10.033))
            ThreePointArc((0.45223726, 10.033), (1.054887129, 9.913125488), (1.565789019, 9.571751759))
            Line((1.565789019, 9.571751759), (7.252896887, 3.88464389))
            ThreePointArc((7.252896887, 3.88464389), (7.941150373, 2.854599758), (8.182832857, 1.63957986))
            Line((8.182832857, 1.63957986), (8.182832857, -1.63957986))
            ThreePointArc((8.182832857, -1.63957986), (7.941150373, -2.854599758), (7.252896887, -3.88464389))
            Line((7.252896887, -3.88464389), (1.565789019, -9.571751759))
            ThreePointArc((1.565789019, -9.571751759), (1.054887129, -9.913125488), (0.45223726, -10.033))
            Line((0.45223726, -10.033), (-0.45223726, -10.033))
            ThreePointArc((-0.45223726, -10.033), (-1.054887129, -9.913125488), (-1.565789019, -9.571751759))
            Line((-1.565789019, -9.571751759), (-7.252896887, -3.88464389))
            ThreePointArc((-7.252896887, -3.88464389), (-7.941150373, -2.854599758), (-8.182832857, -1.63957986))
            Line((-8.182832857, -1.63957986), (-8.182832857, 1.63957986))
            ThreePointArc((-8.182832857, 1.63957986), (-7.941150373, 2.854599758), (-7.252896887, 3.88464389))
            Line((-7.252896887, 3.88464389), (-1.565789019, 9.571751759))
            ThreePointArc((-1.565789019, 9.571751759), (-1.054887129, 9.913125488), (-0.45223726, 10.033))
        make_face(mode=Mode.SUBTRACT)
    extrude(amount=-EXTRUDE1_DEPTH)


solid = part.part
